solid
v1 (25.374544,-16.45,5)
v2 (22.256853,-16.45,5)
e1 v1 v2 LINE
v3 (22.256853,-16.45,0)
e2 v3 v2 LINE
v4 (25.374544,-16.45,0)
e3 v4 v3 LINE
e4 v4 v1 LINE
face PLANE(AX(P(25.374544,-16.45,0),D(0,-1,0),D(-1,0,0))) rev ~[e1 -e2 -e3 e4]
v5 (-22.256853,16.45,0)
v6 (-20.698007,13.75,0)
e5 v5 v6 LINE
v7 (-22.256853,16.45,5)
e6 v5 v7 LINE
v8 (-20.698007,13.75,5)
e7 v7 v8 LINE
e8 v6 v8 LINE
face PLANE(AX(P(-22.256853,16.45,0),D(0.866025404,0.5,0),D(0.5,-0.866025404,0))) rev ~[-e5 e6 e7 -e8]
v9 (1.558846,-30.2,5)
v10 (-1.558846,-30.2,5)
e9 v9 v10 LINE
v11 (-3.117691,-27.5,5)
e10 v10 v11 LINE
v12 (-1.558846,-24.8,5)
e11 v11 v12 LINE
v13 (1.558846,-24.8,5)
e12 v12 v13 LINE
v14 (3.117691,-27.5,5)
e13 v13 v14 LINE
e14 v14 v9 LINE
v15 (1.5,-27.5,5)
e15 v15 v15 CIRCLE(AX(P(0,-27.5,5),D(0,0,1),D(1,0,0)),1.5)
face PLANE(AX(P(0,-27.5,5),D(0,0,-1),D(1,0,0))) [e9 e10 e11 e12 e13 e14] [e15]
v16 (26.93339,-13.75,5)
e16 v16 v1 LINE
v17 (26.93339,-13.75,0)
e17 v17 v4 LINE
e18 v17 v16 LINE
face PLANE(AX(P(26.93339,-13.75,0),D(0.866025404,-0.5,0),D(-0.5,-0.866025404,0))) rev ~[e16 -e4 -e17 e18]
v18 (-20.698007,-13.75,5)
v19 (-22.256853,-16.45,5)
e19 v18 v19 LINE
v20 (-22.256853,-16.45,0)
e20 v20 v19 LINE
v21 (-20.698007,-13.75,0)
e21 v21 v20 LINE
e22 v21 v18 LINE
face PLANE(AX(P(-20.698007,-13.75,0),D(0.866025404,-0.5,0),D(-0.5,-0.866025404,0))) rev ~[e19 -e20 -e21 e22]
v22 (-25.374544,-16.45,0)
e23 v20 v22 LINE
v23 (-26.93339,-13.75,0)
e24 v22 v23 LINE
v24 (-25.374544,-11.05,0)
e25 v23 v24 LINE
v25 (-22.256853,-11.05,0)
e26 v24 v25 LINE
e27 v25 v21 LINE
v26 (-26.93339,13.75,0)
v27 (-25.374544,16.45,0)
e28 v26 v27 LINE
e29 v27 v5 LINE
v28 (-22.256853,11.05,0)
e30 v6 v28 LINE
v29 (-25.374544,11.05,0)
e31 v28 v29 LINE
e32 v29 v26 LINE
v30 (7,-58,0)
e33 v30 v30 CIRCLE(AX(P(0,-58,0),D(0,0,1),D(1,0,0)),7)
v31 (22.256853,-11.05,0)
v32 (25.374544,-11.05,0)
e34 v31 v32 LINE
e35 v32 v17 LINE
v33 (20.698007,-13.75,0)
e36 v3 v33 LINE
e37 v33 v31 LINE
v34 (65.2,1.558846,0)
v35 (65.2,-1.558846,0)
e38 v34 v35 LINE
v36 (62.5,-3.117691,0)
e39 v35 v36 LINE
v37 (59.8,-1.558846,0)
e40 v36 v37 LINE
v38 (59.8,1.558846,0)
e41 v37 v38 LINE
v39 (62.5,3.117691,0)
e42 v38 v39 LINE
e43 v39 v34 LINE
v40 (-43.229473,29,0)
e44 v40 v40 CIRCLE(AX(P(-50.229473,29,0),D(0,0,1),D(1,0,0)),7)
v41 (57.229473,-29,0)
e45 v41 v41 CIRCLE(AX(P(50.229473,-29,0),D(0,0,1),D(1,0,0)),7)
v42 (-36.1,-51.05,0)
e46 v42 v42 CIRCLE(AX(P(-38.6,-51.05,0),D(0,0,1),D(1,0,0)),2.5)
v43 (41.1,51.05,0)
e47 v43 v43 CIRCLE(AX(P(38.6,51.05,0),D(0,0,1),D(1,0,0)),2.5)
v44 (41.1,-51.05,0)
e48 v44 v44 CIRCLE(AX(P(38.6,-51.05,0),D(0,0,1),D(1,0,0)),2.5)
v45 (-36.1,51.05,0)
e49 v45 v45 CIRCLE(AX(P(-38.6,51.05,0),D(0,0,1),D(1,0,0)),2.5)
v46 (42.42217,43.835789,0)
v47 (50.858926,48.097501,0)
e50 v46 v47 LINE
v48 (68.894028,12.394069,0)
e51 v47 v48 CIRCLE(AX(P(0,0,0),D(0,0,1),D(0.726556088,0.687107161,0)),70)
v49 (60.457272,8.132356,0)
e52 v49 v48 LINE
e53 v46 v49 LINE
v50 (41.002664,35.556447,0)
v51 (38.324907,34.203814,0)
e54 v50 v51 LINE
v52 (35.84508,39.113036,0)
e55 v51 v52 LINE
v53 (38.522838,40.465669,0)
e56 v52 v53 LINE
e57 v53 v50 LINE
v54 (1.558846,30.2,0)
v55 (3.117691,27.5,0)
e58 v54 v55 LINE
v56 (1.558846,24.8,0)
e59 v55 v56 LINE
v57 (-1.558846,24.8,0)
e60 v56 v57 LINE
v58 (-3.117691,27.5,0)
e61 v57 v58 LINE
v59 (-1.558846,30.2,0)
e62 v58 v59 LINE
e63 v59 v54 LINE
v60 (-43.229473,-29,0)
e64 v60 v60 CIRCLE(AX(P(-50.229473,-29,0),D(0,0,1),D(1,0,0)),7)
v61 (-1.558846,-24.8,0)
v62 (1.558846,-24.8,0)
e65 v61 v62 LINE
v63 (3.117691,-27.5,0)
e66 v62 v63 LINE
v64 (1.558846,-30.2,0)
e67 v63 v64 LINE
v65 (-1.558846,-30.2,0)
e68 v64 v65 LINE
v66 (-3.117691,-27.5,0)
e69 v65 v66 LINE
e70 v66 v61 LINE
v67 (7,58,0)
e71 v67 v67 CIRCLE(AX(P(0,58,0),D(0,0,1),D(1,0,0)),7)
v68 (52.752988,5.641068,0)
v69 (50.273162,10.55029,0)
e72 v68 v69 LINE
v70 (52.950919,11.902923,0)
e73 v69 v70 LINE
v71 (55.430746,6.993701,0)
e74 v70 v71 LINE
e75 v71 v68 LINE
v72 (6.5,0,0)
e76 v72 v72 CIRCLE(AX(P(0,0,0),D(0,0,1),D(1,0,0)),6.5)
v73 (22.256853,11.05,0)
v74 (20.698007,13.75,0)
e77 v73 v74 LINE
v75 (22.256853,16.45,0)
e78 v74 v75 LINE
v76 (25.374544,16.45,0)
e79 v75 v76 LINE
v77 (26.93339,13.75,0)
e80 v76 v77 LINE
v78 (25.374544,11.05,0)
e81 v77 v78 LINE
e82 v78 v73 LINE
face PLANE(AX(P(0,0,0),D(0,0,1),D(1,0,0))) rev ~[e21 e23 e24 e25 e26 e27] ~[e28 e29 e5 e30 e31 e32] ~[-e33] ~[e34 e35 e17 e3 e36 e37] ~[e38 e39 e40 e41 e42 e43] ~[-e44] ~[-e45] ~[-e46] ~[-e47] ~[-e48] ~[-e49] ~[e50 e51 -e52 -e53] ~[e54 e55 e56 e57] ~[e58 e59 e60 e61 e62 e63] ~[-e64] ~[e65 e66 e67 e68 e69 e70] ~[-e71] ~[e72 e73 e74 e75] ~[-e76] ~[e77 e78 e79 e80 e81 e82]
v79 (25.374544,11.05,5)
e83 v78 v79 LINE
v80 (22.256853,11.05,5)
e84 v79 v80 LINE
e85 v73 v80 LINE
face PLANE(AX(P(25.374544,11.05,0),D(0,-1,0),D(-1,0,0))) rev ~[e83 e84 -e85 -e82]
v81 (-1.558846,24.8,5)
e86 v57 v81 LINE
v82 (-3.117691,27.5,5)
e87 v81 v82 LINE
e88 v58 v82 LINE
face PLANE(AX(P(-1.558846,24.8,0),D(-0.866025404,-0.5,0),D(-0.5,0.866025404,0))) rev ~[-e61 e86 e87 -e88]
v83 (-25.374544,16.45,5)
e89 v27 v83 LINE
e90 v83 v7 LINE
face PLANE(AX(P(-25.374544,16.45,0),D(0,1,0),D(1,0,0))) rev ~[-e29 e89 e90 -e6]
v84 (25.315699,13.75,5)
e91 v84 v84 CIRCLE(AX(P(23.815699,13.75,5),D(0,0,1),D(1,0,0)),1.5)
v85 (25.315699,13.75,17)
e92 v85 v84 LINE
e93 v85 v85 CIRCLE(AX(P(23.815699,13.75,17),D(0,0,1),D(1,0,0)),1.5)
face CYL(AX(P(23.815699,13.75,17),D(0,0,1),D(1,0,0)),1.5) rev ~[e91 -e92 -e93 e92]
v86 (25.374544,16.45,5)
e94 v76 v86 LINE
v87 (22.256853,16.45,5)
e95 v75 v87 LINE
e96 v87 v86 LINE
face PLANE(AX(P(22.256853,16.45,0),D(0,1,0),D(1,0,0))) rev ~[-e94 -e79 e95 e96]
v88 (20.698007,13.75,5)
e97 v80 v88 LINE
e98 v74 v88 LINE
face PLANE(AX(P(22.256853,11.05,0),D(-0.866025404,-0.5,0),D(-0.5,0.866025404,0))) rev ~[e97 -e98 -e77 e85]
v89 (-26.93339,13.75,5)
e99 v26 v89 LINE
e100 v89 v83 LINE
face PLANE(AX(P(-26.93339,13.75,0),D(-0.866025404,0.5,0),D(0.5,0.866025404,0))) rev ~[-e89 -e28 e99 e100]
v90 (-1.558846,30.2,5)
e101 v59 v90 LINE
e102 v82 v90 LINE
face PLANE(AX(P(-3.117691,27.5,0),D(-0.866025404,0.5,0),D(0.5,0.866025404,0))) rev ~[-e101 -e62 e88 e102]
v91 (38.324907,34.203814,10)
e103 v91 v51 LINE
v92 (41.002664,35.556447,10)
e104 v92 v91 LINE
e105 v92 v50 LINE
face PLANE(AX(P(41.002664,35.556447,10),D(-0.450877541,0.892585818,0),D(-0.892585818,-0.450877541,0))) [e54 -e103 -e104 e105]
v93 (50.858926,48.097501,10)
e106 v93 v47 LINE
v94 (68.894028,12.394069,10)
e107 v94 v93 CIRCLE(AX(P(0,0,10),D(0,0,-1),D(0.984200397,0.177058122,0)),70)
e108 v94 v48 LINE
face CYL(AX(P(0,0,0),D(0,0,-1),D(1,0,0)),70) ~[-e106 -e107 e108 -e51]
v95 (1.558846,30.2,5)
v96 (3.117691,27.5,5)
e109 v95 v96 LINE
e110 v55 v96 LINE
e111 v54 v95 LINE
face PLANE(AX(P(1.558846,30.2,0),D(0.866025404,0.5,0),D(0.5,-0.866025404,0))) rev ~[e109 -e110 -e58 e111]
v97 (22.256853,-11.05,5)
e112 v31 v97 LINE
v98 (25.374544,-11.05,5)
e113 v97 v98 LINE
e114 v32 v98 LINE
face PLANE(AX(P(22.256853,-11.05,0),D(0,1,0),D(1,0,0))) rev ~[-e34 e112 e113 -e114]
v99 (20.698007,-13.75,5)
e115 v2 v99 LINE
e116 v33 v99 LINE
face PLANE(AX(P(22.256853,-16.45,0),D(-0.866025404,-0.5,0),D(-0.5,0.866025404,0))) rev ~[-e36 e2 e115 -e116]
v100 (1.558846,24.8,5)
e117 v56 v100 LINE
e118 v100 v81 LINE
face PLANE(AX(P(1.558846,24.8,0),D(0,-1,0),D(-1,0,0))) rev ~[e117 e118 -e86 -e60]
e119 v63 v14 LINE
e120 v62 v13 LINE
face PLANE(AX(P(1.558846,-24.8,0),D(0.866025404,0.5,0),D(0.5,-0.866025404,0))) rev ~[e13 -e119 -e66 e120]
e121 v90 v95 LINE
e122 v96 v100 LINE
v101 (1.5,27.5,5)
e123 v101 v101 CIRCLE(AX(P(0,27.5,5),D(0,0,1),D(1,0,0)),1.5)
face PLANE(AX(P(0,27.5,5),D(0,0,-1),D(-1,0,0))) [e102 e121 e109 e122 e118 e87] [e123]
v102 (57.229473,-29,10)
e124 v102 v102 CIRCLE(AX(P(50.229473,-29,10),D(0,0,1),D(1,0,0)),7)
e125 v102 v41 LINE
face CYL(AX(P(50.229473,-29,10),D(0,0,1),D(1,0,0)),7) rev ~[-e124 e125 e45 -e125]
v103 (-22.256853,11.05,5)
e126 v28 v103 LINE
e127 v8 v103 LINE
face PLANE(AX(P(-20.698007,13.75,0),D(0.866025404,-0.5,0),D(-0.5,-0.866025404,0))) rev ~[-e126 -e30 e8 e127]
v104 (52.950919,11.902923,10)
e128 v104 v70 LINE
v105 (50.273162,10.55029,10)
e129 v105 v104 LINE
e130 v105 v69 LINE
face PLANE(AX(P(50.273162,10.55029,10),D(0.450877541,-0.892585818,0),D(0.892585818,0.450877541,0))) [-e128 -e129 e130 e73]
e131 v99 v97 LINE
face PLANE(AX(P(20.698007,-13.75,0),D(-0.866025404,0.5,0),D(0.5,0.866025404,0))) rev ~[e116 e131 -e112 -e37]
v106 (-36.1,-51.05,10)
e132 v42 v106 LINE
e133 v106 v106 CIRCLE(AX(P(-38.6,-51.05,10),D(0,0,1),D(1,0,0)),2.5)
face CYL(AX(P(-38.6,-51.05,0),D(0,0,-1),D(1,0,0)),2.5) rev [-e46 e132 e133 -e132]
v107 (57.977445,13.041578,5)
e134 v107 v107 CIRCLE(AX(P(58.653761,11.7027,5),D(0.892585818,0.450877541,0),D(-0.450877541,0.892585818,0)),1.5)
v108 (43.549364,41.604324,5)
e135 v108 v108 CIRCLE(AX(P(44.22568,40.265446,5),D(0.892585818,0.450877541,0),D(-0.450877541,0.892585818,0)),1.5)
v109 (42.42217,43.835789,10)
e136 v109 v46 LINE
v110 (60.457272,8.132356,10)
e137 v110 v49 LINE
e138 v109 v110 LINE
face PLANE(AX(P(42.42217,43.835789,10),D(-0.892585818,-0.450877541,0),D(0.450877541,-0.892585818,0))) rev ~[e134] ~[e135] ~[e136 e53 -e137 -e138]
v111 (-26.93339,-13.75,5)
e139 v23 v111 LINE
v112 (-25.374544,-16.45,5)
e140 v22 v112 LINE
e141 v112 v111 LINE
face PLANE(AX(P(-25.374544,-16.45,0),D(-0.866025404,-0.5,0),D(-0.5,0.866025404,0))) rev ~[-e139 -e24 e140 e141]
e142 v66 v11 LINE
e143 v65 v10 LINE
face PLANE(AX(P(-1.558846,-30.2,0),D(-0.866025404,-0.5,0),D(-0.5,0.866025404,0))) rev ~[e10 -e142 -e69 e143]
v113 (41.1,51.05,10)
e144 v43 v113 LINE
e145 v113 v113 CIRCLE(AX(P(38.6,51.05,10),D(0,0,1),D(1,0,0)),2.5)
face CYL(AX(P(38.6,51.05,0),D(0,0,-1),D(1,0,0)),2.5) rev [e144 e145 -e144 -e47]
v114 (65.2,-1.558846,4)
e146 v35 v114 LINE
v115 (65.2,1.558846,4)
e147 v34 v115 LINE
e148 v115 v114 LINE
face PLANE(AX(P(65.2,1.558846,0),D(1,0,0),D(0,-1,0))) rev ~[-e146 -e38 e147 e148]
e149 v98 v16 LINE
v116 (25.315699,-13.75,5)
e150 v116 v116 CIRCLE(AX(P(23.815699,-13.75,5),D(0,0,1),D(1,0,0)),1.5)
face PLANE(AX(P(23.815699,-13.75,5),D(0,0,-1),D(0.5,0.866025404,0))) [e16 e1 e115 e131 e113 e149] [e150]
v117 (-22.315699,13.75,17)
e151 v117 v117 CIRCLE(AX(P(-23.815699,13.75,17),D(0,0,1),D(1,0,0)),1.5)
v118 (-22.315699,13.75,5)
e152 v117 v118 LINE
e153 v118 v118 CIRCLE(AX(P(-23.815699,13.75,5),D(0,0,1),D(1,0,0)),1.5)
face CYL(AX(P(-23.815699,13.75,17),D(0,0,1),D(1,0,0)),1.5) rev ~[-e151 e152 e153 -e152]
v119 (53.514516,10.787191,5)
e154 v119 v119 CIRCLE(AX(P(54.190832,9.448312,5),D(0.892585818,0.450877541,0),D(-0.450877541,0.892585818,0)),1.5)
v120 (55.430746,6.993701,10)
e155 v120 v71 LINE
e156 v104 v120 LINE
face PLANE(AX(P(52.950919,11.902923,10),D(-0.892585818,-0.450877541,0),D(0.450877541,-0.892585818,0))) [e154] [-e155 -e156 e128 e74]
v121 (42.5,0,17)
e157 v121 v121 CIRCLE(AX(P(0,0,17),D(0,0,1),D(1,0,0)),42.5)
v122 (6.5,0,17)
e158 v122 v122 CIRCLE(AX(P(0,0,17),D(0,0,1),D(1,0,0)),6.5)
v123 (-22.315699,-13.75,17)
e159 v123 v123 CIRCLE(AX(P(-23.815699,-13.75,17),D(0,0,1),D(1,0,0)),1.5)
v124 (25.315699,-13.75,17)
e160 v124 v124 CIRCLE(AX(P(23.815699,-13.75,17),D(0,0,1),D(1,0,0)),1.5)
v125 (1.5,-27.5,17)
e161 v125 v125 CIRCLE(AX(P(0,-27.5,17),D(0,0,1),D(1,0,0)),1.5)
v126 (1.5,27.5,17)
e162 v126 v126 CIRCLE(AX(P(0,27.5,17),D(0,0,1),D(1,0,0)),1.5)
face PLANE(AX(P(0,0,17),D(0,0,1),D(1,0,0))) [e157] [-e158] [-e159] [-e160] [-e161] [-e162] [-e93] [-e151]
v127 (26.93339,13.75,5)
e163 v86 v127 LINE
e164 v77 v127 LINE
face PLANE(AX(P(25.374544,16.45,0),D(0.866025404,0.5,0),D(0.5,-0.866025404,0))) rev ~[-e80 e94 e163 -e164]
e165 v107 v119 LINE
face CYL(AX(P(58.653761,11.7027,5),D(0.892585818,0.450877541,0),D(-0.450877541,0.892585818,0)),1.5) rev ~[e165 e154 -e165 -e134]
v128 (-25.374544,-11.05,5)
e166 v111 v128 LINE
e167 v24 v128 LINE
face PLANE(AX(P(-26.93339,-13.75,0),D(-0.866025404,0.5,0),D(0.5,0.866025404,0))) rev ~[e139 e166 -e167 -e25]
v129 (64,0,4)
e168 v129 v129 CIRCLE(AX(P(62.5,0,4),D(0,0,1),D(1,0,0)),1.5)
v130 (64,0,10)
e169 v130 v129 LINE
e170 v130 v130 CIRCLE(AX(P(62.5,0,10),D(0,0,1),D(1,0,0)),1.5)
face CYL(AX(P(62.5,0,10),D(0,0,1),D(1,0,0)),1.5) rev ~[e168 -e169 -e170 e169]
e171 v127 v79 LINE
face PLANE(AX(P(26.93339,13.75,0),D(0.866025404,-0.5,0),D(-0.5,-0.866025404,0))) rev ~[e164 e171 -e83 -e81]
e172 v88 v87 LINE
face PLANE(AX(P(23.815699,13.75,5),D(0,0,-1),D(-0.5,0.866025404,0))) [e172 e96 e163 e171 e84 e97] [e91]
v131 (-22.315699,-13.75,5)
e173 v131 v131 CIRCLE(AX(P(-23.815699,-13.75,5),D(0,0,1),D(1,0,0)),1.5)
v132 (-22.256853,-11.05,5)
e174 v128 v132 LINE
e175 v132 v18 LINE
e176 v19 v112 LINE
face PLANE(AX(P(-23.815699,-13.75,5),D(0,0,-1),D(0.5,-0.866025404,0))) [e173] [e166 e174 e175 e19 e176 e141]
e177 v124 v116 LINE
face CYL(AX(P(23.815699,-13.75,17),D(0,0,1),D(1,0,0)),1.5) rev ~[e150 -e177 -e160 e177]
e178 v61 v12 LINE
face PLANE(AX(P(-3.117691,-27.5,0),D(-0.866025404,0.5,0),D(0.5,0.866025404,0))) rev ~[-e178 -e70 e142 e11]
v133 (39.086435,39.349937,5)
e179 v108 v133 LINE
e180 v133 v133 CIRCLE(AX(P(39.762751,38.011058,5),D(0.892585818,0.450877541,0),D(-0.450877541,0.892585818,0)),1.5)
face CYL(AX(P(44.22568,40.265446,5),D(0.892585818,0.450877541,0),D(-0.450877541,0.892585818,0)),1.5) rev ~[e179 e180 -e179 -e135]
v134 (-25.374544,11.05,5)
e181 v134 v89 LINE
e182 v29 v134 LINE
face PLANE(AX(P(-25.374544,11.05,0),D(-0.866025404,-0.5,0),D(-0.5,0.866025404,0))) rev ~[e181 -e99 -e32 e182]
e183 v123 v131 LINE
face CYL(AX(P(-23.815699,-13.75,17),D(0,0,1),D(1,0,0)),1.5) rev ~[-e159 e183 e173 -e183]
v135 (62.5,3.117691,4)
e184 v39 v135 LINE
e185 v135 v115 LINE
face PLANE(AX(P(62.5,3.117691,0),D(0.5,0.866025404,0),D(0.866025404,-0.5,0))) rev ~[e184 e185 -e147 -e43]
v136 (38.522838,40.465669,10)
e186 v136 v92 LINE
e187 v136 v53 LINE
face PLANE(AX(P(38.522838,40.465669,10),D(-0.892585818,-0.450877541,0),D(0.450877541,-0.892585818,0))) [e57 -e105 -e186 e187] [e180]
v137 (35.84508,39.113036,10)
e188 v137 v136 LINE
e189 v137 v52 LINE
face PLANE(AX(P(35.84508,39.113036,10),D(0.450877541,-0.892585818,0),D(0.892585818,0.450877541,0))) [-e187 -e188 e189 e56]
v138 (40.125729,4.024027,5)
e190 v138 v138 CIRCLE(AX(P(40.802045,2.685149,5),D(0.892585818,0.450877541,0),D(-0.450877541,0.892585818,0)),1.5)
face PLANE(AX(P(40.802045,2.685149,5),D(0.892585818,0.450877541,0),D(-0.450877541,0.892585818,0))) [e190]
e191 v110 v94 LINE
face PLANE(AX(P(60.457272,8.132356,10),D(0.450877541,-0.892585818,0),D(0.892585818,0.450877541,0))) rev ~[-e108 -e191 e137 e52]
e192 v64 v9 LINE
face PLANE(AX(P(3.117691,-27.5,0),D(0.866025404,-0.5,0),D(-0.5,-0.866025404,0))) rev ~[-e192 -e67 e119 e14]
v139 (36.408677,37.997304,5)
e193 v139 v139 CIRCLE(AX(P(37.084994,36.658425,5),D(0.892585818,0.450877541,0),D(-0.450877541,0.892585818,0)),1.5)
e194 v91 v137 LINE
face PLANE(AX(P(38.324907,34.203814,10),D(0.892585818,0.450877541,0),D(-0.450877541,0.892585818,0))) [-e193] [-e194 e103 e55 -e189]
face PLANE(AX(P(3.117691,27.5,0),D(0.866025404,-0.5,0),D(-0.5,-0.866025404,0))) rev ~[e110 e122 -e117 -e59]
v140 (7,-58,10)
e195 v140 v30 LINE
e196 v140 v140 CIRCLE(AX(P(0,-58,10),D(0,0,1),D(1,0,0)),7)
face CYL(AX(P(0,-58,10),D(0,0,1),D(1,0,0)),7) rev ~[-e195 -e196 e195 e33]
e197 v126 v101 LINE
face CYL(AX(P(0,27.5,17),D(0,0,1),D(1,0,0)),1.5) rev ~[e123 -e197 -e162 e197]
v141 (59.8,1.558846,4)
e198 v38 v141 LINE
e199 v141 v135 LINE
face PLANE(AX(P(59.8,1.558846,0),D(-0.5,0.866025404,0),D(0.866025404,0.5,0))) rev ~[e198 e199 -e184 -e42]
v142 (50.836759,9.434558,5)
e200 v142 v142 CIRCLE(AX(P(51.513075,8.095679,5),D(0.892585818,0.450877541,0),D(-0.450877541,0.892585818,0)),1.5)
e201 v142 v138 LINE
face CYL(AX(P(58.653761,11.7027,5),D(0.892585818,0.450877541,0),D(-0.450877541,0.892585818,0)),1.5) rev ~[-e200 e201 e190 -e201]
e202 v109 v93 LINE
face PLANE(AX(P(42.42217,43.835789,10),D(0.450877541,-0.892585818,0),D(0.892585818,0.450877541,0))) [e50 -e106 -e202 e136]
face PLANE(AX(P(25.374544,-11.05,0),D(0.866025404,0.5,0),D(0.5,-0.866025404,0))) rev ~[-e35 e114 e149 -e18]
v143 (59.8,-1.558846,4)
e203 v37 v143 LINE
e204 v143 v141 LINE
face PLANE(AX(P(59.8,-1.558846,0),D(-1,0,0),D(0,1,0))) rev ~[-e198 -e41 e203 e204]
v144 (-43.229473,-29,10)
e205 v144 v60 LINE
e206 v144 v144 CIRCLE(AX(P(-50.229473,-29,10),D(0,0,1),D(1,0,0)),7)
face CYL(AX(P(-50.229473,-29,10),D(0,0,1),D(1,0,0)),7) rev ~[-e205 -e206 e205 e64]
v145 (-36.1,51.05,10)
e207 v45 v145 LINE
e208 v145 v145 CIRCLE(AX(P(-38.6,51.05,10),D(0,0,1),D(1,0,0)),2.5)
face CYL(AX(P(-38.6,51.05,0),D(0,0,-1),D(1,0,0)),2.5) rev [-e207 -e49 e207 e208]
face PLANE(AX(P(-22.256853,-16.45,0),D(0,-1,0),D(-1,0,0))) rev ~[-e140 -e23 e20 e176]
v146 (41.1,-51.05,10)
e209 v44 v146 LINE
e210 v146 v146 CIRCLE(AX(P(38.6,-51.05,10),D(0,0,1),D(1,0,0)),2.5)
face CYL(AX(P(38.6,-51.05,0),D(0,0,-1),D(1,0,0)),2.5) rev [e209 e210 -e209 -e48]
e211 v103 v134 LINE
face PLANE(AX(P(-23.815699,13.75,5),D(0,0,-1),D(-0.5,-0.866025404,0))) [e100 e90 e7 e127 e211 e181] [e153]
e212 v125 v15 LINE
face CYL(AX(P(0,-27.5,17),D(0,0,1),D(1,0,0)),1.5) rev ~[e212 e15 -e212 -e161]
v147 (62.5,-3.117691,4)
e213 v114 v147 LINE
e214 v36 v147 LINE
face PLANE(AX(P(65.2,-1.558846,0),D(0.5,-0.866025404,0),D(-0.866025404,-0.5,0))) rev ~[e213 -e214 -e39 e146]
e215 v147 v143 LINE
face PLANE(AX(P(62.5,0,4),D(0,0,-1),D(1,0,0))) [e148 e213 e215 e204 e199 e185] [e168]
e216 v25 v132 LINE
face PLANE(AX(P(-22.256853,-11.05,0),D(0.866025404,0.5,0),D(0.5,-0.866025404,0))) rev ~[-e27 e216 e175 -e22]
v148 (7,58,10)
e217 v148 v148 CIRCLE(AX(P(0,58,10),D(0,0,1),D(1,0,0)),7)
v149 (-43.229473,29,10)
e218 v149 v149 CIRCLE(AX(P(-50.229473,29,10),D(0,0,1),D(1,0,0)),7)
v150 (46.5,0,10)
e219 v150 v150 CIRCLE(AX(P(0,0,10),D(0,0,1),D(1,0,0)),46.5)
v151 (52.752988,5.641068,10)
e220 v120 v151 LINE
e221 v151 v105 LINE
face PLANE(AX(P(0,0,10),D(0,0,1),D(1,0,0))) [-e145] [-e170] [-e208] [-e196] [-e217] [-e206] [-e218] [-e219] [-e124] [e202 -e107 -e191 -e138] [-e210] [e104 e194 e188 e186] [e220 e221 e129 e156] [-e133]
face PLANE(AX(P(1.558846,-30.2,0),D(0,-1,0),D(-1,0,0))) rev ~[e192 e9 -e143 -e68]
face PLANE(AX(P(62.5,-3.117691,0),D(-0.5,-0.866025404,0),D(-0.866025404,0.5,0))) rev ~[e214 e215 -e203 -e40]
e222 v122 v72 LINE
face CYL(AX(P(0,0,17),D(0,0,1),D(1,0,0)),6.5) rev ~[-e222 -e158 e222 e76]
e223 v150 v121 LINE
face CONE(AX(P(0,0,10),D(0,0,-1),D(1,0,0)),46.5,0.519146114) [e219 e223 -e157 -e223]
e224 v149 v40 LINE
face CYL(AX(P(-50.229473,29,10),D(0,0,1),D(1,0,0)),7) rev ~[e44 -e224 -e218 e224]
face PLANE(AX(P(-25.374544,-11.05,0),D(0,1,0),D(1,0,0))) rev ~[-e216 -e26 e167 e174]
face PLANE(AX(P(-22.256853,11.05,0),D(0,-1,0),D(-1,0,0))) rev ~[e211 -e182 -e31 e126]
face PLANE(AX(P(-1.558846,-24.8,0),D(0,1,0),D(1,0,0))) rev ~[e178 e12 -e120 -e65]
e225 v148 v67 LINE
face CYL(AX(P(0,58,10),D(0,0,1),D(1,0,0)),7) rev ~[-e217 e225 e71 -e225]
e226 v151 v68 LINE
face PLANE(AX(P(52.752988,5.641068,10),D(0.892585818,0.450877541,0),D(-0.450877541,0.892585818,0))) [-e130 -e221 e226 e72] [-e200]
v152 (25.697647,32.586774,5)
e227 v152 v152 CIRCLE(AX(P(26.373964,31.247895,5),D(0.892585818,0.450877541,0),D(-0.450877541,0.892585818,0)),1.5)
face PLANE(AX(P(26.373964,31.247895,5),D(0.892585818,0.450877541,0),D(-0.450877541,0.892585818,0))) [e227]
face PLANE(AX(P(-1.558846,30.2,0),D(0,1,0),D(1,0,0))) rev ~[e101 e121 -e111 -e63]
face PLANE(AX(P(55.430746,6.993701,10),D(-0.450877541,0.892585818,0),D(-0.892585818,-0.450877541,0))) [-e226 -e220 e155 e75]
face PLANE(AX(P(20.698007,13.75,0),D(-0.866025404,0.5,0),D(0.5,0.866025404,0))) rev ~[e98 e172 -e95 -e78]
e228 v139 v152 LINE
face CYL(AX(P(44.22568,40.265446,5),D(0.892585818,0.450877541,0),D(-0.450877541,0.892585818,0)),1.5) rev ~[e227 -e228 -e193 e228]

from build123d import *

# Parameters (mm, degrees)
SKETCH_R           = 70
SKETCH_R_2         = 2.5
PAD_DEPTH          = 10
SKETCH002_R        = 7
POCKET_DEPTH       = 11
SKETCH003_R        = 1.5
POCKET001_DEPTH    = 20
POCKET002_DEPTH    = 12
SKETCH005_R        = 1.5
POCKET003_DEPTH    = 12
POCKET004_DEPTH    = 12
SKETCH007_R        = 1.5
POCKET005_DEPTH    = 20
POCKET006_DEPTH    = 5
POLARPATTERN_COUNT = 6
SKETCH009_R        = 6.5
POCKET007_DEPTH    = 20
POCKET008_DEPTH    = 4


with BuildPart() as part:
    # Sketch → Pad (new body)
    with BuildSketch(Plane.XY):
        Circle(SKETCH_R)
        with Locations((-38.6, 51.05)):
            Circle(SKETCH_R_2, mode=Mode.SUBTRACT)
        with Locations((38.6, 51.05)):
            Circle(SKETCH_R_2, mode=Mode.SUBTRACT)
        with Locations((-38.6, -51.05)):
            Circle(SKETCH_R_2, mode=Mode.SUBTRACT)
        with Locations((38.6, -51.05)):
            Circle(SKETCH_R_2, mode=Mode.SUBTRACT)
    extrude(amount=PAD_DEPTH)

    # Sketch001 → Revolution (revolve)
    with BuildSketch(Plane.XZ):
        Polygon((0, 10), (46.5, 10), (42.5, 17), (0, 17), align=None)
    revolve(axis=Axis((0, 0, 0), (0, 0, 1)))

    # Sketch002 (on Face3 of Revolution) → Pocket (cut)
    with BuildSketch(Plane.XY.offset(10)):
        with Locations((0, -58)):
            Circle(SKETCH002_R)
        with Locations((-50.2294734195, 29)):
            Circle(SKETCH002_R)
        with Locations((-50.2294734195, -29)):
            Circle(SKETCH002_R)
        with Locations((50.2294734195, -29)):
            Circle(SKETCH002_R)
        with Locations((0, 58)):
            Circle(SKETCH002_R)
    extrude(amount=-POCKET_DEPTH, mode=Mode.SUBTRACT)

    # Sketch003 (on Face14 of Pocket) → Pocket001 (cut)
    with BuildSketch(Plane.XY.offset(17)):
        with Locations((0, 27.5)):
            Circle(SKETCH003_R)
        with Locations((23.8156986041, 13.75)):
            Circle(SKETCH003_R)
        with Locations((23.8156986041, -13.75)):
            Circle(SKETCH003_R)
        with Locations((0, -27.5)):
            Circle(SKETCH003_R)
        with Locations((-23.8156986041, -13.75)):
            Circle(SKETCH003_R)
        with Locations((-23.8156986041, 13.75)):
            Circle(SKETCH003_R)
    extrude(amount=-POCKET001_DEPTH, mode=Mode.SUBTRACT)

    # Sketch004 (on Face3 of Pocket001) → Pocket002 (cut)
    with BuildSketch(Plane.XY.offset(10)):
        with BuildLine():
            Line((60.4572715312, 8.1323563009), (68.8940277881, 12.3940685462))
            ThreePointArc((68.8940277881, 12.3940685462), (62.4810072916, 31.5614278483), (50.8589261605, 48.0975012843))
            Line((42.4221699036, 43.835789039), (50.8589261605, 48.0975012843))
            Line((42.4221699036, 43.835789039), (60.4572715312, 8.1323563009))
        make_face()
    extrude(amount=-POCKET002_DEPTH, mode=Mode.SUBTRACT)

    # Sketch005 (on Face4 of Pocket002) → Pocket003 (cut)
    with BuildSketch(Plane.XY.offset(10)):
        with Locations((62.5, 0)):
            Circle(SKETCH005_R)
    extrude(amount=-POCKET003_DEPTH, mode=Mode.SUBTRACT)

    # Sketch006 (on Face4 of Pocket003) → Pocket004 (cut)
    with BuildSketch(Plane.XY.offset(10)):
        Polygon((35.8450802819, 39.1130364404), (38.5228377372, 40.4656690625), (41.002664211, 35.556447061), (38.3249067556, 34.2038144389), align=None)
        Polygon((50.2731615839, 10.5502902499), (52.9509190393, 11.902922872), (55.4307455131, 6.9937008705), (52.7529880577, 5.6410682484), align=None)
    extrude(amount=-POCKET004_DEPTH, mode=Mode.SUBTRACT)

    # Sketch007 (on Face7 of Pocket004) → Pocket005 (cut)
    with BuildSketch(Plane(origin=(51.4397207174, 25.9840726699, 0), x_dir=(-0.4508775407, 0.8925858185, 0), z_dir=(0.8925858185, 0.4508775407, 0))):
        with Locations((-16, 5)):
            Circle(SKETCH007_R)
        with Locations((16, 5)):
            Circle(SKETCH007_R)
    extrude(amount=-POCKET005_DEPTH, mode=Mode.SUBTRACT)

    # Sketch008 (on Face2 of Pocket005) → Pocket006 (cut)
    with BuildSketch(Plane(origin=(0, 0, 0), x_dir=(1, 0, 0), z_dir=(0, 0, -1))):
        Polygon((-1.5588457268, 24.8), (1.5588457268, 24.8), (3.1176914536, 27.5), (1.5588457268, 30.2), (-1.5588457268, 30.2), (-3.1176914536, 27.5), align=None)
    pocket006 = extrude(amount=-POCKET006_DEPTH, mode=Mode.SUBTRACT)

    # PolarPattern: Pocket006 ×6 about axis
    polarpattern_axis = Axis((0, 0, 0), (0, 0, -1))
    for i in range(1, POLARPATTERN_COUNT):
        add(pocket006.rotate(polarpattern_axis, i * 360 / POLARPATTERN_COUNT), mode=Mode.SUBTRACT)

    # Sketch009 (on Face73 of PolarPattern) → Pocket007 (cut)
    with BuildSketch(Plane.XY.offset(17)):
        Circle(SKETCH009_R)
    extrude(amount=-POCKET007_DEPTH, mode=Mode.SUBTRACT)

    # Sketch010 (on Face2 of Pocket007) → Pocket008 (cut)
    with BuildSketch(Plane(origin=(0, 0, 0), x_dir=(1, 0, 0), z_dir=(0, 0, -1))):
        Polygon((65.2, -1.5588457268), (65.2, 1.5588457268), (62.5, 3.1176914536), (59.8, 1.5588457268), (59.8, -1.5588457268), (62.5, -3.1176914536), align=None)
    extrude(amount=-POCKET008_DEPTH, mode=Mode.SUBTRACT)


solid = part.part
